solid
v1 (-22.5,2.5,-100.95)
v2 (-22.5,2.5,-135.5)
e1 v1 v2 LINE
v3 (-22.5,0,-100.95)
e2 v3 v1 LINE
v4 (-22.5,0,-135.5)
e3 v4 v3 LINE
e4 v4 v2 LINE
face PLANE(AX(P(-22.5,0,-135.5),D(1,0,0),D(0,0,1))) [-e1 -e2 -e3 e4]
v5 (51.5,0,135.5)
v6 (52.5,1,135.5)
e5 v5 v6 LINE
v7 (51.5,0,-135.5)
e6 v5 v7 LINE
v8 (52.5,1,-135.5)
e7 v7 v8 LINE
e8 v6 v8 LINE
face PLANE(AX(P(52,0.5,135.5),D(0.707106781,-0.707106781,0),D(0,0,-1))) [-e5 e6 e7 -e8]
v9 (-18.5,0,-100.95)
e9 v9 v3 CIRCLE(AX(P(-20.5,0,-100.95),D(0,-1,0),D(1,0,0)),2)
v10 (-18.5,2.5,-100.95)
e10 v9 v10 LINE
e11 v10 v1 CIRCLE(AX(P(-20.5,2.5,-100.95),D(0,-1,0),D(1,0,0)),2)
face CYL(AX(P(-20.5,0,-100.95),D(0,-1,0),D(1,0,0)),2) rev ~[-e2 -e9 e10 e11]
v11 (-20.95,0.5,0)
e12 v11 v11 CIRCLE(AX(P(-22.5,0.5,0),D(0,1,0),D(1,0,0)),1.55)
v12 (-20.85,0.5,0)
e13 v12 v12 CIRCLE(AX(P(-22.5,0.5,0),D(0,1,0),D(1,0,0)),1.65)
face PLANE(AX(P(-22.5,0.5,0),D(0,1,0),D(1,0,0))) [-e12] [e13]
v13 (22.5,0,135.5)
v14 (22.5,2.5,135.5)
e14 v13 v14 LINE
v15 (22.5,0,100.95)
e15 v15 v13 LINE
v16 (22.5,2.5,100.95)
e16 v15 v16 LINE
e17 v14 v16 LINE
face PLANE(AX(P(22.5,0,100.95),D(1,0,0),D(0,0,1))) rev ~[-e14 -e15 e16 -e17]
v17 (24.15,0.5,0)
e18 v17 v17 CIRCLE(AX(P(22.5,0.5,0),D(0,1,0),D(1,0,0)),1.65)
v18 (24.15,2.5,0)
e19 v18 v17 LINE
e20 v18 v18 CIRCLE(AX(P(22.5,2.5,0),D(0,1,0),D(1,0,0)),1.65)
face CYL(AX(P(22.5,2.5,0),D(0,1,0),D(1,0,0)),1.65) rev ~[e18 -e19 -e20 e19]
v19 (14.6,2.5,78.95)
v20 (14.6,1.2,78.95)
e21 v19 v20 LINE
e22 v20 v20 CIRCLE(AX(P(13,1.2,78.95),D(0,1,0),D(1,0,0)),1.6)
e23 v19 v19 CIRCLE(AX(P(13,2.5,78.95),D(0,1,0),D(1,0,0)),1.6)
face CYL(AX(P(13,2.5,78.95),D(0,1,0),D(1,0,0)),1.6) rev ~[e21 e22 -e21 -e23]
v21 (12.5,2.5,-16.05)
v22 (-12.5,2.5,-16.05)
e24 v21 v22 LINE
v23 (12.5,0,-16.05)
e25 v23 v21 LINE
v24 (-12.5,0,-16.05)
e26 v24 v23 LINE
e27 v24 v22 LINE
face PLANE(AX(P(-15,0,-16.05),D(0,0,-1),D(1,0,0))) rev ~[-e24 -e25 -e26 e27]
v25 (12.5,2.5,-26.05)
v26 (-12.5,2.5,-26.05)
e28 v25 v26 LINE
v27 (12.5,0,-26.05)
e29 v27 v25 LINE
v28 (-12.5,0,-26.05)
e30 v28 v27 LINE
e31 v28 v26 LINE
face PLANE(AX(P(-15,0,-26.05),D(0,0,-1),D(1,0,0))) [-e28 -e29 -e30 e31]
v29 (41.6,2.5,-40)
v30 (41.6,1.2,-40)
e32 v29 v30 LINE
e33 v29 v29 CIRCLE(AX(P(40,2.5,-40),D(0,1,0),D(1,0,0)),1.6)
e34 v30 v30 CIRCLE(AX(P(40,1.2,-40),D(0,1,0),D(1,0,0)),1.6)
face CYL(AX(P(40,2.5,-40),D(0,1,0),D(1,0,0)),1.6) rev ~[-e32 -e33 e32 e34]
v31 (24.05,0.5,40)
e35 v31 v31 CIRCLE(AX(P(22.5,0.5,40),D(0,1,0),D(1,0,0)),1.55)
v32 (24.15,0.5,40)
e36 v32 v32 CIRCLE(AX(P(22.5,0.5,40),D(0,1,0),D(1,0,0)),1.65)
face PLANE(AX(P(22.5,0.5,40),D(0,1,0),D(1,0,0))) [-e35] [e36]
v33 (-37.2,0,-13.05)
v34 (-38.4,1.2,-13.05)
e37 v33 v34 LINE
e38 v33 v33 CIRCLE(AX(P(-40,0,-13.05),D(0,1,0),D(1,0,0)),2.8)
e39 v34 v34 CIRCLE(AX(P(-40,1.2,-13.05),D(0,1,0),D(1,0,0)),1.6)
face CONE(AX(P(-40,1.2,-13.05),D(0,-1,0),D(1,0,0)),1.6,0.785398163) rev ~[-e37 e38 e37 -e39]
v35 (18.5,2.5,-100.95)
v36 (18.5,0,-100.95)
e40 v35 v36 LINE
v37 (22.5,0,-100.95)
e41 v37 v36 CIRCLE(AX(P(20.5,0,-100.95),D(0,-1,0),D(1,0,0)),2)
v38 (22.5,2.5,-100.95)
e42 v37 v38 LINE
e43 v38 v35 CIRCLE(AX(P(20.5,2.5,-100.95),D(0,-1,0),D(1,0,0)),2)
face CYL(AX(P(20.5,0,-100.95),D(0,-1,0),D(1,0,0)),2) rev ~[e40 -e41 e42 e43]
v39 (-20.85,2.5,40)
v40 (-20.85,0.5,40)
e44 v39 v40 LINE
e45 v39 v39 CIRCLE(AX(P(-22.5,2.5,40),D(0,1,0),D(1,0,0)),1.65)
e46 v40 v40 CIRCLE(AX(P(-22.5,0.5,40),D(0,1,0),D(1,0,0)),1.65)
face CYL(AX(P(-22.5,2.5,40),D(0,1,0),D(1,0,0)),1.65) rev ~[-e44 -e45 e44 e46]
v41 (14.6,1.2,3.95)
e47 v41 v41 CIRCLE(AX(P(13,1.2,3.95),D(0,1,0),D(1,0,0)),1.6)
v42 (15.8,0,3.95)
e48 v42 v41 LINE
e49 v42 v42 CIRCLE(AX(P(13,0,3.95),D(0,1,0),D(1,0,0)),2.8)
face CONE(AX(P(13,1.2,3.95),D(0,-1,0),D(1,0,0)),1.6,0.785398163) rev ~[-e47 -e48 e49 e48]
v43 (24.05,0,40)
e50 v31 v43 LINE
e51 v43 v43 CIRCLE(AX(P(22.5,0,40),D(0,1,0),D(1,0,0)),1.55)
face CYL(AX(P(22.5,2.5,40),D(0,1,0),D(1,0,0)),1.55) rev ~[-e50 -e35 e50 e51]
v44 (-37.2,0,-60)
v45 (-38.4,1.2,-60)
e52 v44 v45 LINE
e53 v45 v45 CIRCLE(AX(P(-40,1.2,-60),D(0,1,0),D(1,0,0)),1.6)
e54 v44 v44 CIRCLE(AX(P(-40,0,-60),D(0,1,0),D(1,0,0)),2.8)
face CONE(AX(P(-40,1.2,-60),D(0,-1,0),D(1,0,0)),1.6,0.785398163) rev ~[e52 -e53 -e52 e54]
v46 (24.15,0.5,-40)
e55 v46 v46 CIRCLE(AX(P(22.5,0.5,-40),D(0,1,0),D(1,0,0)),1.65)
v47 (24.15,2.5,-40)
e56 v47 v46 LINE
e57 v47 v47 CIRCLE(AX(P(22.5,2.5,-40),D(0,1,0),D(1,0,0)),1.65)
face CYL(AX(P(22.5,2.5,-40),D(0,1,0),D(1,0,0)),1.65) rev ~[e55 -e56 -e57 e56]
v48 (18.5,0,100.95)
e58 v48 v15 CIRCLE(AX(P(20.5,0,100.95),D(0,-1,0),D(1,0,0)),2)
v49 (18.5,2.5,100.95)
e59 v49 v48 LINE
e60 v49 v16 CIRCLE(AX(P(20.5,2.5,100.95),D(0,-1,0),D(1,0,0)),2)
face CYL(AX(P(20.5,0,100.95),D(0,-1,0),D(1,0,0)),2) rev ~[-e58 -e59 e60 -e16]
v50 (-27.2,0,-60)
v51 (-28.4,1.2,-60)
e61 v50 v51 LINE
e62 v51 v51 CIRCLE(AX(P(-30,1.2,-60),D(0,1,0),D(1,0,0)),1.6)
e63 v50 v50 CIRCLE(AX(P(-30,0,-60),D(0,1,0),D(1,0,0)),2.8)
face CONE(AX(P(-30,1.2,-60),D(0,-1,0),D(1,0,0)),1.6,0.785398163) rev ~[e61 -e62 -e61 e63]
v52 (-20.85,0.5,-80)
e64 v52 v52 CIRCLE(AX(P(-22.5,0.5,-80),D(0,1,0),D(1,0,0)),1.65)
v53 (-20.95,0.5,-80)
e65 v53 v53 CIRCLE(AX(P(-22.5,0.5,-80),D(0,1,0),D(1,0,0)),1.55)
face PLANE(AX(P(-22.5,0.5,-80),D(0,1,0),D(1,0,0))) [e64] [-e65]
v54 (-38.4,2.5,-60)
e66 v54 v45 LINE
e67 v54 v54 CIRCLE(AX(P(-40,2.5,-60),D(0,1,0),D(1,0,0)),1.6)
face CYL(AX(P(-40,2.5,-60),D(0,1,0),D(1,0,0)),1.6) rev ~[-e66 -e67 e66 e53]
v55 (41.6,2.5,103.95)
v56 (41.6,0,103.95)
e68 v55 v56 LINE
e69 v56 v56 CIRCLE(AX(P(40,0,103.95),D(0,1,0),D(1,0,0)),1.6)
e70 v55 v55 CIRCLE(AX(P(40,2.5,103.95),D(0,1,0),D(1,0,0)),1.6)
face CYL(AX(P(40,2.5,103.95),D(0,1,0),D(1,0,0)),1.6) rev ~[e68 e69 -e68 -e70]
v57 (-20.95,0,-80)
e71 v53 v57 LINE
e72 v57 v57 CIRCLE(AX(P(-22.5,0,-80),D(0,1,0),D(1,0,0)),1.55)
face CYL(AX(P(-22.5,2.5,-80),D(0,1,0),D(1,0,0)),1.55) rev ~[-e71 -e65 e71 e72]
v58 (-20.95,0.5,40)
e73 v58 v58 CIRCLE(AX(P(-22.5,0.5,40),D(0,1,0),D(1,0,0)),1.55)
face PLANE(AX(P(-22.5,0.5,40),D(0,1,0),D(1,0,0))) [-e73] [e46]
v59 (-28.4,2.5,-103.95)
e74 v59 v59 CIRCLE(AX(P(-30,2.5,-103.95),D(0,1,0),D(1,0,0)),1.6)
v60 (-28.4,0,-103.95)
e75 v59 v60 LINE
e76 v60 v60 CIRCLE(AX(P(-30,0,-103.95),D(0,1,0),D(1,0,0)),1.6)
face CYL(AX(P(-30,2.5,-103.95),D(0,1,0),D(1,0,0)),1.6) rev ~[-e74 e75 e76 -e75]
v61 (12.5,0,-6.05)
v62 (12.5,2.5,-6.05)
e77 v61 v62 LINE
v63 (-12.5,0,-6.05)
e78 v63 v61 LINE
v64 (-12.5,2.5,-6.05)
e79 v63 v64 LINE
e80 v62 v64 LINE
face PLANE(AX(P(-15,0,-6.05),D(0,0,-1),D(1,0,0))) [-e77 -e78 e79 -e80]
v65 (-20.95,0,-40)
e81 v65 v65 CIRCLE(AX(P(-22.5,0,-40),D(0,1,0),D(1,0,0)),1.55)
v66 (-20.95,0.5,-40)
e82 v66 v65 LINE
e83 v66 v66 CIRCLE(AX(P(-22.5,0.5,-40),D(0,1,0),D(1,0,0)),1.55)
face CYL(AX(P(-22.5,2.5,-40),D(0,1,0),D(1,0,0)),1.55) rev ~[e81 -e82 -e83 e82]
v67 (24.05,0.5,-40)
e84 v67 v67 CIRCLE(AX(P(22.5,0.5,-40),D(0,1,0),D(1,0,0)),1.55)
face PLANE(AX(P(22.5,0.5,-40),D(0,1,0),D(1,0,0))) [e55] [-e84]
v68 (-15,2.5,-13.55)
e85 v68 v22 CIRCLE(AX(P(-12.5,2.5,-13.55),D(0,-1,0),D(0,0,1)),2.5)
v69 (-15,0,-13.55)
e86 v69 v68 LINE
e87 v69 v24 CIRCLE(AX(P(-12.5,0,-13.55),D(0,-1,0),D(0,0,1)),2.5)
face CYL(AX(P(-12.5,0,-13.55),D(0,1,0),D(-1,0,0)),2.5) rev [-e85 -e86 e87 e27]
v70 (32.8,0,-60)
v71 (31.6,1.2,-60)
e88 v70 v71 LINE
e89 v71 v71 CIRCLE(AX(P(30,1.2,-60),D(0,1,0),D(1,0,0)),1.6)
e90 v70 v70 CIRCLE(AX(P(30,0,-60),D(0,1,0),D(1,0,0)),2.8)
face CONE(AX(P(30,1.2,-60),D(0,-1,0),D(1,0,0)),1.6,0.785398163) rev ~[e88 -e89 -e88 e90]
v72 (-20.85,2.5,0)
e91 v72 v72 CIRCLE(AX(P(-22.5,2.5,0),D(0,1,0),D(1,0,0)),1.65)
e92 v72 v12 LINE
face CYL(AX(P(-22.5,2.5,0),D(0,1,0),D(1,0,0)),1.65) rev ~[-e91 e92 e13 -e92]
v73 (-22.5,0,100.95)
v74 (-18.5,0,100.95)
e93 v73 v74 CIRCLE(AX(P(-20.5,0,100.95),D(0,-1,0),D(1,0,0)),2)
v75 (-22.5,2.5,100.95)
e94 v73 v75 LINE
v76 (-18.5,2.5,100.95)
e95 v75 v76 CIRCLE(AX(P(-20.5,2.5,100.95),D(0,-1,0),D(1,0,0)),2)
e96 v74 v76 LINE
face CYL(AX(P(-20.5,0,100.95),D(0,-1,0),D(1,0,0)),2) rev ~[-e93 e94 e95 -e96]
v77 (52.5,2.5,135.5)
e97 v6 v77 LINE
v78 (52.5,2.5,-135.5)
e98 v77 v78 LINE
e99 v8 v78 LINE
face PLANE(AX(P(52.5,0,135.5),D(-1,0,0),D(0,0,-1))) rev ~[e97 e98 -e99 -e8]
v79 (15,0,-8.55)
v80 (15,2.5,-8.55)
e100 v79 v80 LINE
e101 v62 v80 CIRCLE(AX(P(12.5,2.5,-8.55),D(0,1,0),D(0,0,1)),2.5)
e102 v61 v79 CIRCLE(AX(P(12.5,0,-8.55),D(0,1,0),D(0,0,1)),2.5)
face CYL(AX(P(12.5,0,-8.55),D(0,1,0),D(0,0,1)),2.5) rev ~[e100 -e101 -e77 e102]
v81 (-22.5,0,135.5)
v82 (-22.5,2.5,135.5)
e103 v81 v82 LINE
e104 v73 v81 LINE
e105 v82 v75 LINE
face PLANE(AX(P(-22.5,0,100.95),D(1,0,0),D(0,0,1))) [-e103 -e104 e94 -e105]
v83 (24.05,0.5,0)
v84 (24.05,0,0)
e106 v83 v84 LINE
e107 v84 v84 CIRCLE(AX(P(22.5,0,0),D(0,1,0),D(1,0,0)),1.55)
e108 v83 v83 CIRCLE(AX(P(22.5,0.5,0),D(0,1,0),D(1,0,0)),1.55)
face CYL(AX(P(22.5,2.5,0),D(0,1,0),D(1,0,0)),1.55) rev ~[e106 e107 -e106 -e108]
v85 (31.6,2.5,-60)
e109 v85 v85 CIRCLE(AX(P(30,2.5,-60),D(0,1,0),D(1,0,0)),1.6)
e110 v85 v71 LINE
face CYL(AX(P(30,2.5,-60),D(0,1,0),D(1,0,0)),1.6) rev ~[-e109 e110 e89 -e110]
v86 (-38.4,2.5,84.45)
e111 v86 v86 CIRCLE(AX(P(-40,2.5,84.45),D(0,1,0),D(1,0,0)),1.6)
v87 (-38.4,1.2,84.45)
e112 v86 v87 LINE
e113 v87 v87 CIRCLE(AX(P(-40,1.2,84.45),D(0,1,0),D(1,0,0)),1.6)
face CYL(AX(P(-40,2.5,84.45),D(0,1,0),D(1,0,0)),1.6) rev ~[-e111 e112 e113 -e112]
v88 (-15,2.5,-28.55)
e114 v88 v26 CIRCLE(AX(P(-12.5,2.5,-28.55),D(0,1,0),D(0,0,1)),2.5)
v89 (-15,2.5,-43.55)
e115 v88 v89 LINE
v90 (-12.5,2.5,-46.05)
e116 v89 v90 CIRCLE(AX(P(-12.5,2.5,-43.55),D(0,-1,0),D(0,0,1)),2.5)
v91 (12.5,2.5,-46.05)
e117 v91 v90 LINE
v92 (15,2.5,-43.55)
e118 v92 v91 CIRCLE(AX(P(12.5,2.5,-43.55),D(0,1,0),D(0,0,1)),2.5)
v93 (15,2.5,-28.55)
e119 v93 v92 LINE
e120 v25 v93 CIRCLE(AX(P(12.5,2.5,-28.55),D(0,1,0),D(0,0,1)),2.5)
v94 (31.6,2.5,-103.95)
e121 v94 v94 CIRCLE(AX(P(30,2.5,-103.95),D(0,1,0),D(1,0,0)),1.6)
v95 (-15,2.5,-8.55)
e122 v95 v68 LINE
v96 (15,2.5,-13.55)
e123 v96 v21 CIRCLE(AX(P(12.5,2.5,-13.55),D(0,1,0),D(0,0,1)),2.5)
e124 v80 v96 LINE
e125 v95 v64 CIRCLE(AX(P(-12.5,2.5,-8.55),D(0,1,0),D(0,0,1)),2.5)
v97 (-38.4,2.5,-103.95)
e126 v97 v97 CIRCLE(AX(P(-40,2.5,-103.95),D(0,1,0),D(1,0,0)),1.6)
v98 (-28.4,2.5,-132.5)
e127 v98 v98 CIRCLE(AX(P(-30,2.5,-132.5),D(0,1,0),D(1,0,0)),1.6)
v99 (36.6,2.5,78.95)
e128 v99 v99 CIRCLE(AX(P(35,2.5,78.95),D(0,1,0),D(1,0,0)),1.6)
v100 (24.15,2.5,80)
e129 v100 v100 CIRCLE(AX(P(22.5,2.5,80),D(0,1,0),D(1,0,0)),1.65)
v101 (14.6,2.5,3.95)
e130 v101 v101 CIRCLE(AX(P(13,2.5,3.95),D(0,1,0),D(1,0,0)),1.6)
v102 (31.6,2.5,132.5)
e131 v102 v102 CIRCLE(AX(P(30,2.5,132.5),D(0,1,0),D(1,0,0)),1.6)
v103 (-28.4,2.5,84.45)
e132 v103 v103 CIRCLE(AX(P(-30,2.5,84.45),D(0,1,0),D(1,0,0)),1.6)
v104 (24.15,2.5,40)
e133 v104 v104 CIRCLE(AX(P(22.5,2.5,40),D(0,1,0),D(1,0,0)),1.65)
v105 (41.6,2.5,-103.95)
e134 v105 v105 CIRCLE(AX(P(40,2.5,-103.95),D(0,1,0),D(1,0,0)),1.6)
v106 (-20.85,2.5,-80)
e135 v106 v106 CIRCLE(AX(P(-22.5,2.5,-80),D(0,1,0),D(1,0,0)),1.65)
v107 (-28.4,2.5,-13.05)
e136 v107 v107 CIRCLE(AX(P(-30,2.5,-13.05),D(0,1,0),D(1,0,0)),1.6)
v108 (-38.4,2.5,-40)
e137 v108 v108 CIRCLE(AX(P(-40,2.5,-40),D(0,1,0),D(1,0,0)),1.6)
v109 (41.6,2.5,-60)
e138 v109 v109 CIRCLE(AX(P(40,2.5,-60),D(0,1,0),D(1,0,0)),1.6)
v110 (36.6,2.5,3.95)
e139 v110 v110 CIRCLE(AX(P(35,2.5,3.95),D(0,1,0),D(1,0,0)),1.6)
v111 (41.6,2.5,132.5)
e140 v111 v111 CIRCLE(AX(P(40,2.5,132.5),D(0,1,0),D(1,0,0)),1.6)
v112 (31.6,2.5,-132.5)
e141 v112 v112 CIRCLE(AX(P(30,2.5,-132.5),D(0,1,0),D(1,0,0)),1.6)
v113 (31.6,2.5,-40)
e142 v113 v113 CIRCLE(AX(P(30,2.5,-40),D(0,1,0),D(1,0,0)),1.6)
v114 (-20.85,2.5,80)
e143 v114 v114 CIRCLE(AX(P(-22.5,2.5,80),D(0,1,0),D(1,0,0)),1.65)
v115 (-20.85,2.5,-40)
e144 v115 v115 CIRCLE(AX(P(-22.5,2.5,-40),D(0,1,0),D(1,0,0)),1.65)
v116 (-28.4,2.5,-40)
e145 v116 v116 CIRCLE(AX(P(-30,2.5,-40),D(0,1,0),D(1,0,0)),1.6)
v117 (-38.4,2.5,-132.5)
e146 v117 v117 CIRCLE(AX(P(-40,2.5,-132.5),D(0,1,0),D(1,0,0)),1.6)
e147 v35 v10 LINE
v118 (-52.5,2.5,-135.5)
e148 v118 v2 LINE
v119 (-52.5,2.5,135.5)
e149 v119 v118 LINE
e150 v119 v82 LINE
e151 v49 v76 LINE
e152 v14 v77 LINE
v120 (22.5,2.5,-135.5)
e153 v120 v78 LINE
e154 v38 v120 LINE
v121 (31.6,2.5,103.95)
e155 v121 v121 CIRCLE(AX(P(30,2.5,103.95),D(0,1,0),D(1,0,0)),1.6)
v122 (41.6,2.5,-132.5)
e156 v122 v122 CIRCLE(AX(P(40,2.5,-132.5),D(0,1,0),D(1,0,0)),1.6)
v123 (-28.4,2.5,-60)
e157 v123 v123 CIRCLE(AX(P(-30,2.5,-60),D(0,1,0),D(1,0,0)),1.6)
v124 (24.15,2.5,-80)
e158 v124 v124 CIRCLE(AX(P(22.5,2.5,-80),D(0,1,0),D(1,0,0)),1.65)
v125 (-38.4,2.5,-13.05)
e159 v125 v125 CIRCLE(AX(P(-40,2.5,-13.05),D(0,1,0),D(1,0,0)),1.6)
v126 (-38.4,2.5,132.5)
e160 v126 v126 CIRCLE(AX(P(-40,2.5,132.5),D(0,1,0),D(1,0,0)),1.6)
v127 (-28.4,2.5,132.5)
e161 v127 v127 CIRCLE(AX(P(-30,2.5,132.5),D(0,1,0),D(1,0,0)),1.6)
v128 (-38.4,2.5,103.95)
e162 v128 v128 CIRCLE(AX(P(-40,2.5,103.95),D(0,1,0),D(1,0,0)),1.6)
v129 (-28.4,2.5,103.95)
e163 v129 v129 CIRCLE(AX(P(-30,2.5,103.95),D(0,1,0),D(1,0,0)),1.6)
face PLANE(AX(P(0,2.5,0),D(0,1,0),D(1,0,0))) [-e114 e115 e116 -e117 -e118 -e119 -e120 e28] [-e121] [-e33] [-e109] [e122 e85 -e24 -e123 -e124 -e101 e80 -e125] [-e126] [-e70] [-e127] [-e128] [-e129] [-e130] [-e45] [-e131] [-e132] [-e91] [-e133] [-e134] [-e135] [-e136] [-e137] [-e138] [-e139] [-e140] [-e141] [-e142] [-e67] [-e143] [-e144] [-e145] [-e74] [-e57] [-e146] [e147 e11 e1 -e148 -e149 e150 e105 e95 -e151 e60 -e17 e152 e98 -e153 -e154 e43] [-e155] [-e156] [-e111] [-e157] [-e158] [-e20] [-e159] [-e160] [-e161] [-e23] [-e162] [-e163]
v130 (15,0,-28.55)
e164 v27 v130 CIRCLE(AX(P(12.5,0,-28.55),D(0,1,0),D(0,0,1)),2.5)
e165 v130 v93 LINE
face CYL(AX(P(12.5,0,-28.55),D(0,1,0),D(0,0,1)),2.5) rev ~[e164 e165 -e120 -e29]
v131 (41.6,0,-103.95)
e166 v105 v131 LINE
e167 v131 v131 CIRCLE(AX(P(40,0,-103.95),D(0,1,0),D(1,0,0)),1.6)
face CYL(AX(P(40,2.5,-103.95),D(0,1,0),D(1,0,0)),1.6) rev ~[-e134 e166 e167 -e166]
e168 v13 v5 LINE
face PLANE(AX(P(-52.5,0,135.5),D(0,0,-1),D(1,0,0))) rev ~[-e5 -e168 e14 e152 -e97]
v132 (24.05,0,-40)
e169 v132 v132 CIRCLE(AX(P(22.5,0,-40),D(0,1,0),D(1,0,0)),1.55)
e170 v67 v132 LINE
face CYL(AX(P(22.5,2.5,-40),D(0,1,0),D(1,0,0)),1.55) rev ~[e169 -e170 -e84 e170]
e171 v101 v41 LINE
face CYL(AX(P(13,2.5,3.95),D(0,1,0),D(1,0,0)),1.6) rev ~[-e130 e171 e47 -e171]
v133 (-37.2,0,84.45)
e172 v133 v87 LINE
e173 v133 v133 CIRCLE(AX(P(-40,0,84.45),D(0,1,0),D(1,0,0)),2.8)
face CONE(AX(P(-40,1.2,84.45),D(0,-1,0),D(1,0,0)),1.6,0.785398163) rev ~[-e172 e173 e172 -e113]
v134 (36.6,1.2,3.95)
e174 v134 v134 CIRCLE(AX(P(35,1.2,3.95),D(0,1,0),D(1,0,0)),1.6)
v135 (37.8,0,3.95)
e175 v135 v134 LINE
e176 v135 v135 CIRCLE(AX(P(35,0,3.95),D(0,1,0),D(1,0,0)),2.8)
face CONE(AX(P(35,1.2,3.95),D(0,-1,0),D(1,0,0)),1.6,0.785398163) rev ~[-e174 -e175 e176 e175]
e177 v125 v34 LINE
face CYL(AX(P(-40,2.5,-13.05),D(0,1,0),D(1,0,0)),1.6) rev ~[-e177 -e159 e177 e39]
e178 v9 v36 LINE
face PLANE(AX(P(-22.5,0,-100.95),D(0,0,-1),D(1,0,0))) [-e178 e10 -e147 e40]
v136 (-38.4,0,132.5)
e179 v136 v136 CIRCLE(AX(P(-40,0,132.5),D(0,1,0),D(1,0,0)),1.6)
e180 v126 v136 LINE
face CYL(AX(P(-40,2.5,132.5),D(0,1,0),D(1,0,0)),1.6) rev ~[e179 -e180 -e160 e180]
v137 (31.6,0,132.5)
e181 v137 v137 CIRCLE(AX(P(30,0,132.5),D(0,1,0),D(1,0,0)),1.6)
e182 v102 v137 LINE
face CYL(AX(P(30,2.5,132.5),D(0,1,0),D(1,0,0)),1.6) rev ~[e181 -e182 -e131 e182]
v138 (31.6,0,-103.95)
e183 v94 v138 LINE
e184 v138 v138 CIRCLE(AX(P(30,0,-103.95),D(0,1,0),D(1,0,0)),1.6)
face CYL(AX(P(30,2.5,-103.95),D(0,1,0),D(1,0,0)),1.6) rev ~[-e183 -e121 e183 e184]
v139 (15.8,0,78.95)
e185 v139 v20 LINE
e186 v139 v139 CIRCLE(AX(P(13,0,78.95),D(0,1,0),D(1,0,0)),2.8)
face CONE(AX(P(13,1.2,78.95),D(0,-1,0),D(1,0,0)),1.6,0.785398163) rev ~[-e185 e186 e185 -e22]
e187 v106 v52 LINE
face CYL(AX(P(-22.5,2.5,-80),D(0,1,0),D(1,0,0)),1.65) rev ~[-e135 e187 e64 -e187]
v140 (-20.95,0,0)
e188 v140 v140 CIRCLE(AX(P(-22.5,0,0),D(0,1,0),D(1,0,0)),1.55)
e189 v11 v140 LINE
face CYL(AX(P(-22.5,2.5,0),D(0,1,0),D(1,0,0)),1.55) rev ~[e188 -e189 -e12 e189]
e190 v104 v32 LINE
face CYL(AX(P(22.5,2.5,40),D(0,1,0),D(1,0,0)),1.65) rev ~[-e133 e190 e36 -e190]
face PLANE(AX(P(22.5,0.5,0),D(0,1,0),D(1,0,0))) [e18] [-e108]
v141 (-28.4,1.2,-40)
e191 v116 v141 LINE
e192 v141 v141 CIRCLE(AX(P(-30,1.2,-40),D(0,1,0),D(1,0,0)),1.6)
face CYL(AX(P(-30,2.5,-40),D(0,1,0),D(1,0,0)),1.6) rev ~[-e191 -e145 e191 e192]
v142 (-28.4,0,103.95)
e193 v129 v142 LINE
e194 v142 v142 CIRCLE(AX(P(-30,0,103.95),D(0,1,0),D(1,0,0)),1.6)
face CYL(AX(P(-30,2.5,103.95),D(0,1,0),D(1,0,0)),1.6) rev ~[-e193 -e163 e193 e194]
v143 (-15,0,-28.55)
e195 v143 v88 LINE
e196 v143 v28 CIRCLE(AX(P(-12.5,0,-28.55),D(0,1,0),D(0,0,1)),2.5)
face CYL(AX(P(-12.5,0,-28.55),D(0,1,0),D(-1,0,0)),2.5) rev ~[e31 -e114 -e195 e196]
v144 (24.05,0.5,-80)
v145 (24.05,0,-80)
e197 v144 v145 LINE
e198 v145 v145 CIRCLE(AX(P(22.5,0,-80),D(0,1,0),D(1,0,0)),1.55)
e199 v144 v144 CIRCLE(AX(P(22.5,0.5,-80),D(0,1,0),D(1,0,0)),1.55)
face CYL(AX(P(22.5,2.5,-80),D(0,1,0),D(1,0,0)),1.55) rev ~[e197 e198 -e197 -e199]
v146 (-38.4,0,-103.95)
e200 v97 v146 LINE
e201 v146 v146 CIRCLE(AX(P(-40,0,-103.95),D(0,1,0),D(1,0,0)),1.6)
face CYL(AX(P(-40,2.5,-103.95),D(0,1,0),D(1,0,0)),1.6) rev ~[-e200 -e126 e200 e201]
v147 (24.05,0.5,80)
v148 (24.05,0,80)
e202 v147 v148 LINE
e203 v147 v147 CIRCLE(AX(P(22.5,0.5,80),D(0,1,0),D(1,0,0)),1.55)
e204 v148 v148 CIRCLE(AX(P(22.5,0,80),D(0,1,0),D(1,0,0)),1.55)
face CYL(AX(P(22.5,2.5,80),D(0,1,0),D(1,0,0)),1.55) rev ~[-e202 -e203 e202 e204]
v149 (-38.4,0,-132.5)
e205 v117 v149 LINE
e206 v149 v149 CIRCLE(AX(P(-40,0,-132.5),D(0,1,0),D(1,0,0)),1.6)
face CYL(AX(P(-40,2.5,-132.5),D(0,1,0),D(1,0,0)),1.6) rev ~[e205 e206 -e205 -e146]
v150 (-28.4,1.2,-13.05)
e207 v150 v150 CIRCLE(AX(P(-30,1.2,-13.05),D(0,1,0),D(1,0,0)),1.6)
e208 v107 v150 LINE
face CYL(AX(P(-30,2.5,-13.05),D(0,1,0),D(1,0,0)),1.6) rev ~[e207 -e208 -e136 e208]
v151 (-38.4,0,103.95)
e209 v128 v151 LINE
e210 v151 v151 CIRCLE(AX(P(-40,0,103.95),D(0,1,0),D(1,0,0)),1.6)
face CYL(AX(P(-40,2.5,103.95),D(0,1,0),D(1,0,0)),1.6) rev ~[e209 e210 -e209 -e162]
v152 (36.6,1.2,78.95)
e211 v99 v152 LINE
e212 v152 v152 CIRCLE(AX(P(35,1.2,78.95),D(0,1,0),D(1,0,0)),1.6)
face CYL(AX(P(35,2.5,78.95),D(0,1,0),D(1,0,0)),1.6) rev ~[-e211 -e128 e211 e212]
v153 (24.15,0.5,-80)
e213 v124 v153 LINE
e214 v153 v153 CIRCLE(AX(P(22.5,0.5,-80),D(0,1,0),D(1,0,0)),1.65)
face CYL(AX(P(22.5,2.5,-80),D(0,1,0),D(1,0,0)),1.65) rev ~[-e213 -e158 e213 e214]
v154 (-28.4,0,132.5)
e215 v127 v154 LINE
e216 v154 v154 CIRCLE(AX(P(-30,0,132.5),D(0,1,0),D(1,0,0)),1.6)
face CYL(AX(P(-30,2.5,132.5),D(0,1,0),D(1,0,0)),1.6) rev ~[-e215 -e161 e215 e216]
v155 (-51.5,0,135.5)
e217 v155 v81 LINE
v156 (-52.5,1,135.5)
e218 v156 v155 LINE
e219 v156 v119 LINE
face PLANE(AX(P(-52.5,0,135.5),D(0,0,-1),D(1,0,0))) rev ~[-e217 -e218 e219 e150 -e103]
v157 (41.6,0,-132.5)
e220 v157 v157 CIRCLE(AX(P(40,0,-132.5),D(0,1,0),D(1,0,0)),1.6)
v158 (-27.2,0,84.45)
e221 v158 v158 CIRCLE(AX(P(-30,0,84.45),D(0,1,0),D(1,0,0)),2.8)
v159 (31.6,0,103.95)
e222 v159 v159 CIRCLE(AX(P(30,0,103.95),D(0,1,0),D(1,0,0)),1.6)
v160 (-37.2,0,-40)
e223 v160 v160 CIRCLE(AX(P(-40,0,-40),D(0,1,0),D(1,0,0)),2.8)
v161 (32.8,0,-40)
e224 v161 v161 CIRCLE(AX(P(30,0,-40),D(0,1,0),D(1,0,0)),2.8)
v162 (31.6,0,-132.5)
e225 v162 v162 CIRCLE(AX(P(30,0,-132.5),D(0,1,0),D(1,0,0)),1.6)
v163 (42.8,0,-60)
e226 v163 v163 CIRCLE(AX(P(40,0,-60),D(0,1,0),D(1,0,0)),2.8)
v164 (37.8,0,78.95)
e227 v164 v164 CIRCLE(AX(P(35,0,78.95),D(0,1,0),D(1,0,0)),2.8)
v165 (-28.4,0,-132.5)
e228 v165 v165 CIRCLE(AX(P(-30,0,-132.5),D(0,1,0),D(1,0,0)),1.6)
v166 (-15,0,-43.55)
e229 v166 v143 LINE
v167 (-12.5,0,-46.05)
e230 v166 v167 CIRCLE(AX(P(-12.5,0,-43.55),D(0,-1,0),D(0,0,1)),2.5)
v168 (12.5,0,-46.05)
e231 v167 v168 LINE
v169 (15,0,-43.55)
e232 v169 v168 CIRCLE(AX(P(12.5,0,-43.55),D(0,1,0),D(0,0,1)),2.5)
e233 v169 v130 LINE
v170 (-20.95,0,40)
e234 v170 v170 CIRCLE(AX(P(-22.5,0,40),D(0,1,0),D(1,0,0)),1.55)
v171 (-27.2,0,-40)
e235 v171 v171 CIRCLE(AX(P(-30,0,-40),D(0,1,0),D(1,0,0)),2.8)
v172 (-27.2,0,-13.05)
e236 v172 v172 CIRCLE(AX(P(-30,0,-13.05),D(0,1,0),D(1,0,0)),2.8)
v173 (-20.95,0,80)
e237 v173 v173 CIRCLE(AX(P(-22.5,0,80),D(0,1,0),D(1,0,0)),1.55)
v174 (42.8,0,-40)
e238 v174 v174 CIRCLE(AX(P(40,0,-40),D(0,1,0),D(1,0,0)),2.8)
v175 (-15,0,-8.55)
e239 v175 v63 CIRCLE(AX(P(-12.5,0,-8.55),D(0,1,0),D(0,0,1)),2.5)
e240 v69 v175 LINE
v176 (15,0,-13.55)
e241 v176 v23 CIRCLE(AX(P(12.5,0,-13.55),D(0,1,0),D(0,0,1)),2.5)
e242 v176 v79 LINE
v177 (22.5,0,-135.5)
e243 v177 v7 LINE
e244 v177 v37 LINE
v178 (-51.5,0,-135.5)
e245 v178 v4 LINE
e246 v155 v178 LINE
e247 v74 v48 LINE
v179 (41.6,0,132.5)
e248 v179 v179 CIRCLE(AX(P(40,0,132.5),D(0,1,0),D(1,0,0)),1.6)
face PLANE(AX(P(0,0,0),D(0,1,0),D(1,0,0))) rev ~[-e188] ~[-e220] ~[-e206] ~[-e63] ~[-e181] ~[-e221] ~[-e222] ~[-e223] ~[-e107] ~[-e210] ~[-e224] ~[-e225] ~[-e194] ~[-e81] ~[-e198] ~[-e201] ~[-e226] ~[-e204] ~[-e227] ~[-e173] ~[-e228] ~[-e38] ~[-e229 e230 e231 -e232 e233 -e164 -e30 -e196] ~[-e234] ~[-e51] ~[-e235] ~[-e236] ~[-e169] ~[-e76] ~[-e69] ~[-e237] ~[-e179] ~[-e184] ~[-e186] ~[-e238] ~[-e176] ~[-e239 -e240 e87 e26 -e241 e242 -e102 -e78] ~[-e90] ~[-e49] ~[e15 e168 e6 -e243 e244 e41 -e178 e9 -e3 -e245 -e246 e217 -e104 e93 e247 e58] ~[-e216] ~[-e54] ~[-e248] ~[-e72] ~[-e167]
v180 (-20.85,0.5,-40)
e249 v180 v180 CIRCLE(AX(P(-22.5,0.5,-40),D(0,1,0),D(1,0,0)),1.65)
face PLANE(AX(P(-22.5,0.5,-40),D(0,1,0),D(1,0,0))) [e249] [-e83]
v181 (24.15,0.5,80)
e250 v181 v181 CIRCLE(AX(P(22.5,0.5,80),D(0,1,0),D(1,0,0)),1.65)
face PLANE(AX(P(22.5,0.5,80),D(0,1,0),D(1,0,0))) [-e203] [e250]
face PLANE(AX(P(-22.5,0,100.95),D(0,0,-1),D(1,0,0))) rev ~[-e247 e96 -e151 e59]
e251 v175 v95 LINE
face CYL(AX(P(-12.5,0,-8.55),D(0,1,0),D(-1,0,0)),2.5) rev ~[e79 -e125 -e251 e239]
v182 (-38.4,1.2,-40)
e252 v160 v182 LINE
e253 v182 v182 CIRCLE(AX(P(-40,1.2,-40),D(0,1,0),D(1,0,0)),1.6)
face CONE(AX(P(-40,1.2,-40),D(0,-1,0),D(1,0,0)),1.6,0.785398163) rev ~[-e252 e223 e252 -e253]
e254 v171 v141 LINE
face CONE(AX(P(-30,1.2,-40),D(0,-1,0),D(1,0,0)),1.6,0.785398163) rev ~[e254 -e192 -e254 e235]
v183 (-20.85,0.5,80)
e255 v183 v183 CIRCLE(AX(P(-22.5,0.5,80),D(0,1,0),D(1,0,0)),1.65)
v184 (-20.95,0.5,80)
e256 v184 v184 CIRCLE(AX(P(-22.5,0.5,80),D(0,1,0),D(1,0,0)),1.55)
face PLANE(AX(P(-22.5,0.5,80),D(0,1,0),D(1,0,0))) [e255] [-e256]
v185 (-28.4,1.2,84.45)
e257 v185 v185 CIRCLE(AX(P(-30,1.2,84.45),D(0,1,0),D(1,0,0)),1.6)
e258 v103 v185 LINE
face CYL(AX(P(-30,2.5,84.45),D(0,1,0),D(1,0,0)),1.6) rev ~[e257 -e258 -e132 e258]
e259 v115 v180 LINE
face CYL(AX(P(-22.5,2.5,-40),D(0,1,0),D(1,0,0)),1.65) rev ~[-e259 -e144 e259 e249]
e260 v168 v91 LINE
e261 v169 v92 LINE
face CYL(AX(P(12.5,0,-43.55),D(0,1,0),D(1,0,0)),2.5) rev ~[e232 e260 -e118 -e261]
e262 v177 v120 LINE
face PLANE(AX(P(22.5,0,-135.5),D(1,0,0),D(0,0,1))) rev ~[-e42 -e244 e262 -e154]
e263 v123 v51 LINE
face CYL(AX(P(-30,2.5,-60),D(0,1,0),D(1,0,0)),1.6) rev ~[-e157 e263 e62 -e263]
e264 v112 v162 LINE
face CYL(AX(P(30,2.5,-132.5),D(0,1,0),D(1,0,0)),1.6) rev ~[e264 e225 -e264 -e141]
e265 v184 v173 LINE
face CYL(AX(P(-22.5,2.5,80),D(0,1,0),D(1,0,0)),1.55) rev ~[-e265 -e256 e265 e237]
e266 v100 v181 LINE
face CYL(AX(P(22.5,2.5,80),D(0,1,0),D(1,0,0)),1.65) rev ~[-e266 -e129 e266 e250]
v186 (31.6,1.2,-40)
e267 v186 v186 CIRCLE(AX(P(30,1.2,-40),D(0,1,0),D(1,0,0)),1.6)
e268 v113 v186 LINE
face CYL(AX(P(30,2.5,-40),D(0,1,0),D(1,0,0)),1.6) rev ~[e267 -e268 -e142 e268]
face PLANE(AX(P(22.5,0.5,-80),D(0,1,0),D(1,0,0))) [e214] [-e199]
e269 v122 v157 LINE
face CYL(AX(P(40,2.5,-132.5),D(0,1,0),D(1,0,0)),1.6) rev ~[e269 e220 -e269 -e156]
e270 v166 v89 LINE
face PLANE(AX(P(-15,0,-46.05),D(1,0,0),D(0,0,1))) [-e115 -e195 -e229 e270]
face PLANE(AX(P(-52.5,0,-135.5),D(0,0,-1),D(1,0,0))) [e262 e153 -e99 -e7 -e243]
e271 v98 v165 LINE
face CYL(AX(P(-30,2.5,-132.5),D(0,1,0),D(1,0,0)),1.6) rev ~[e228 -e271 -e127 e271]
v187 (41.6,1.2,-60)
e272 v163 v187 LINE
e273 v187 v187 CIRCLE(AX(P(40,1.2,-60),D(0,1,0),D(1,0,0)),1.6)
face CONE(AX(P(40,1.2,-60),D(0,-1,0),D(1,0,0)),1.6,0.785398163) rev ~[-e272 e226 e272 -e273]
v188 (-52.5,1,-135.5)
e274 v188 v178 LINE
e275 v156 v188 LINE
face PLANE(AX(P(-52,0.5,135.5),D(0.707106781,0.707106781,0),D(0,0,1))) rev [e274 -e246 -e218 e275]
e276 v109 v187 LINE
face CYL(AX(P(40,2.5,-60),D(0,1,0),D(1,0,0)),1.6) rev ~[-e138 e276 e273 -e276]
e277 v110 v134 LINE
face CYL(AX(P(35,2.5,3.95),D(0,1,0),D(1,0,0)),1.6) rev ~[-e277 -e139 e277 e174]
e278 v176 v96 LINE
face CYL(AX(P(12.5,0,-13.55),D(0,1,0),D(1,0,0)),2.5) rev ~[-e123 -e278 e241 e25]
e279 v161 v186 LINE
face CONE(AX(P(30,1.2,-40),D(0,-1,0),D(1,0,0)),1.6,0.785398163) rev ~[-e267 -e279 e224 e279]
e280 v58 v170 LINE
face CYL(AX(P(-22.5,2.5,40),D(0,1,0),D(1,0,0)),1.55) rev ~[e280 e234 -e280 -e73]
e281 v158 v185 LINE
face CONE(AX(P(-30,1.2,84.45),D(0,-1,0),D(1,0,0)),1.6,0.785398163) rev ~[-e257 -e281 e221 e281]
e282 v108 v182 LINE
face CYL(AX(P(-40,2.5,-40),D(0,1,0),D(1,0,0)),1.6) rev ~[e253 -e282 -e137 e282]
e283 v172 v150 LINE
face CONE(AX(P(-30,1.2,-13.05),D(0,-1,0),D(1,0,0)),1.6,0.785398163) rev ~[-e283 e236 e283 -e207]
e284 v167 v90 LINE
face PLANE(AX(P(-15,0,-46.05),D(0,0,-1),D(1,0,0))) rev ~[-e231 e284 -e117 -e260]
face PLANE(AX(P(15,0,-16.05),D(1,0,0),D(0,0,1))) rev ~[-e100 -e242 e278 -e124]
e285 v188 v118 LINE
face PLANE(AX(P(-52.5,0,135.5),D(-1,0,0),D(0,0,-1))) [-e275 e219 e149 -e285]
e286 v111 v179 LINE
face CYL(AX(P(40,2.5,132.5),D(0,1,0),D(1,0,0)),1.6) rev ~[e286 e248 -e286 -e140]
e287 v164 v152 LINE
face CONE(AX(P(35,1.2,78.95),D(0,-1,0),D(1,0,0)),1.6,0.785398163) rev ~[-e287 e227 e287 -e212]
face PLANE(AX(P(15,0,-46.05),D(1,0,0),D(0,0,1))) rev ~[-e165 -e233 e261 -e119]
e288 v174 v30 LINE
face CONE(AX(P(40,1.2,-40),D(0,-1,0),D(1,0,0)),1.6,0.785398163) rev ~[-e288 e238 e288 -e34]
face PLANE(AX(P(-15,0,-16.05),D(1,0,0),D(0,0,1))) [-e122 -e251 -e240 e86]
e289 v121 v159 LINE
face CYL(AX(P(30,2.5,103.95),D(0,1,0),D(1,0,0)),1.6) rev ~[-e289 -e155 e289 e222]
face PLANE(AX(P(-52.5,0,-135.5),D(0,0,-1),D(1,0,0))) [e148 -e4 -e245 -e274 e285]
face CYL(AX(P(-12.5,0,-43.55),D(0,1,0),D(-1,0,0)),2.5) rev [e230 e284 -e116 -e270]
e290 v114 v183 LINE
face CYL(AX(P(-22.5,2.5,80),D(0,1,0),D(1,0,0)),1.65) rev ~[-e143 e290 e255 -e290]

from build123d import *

# Parameters (mm, degrees)
SKETCH_1_W          = 105
SKETCH_1_H          = 271
EXTRUDE_1_DEPTH     = 2.5
SKETCH_2_R          = 1.6
CUT_EXTRUDE_1_DEPTH = 10
CHAMFER_4_SIZE      = 1
SKETCH_3_W          = 45
SKETCH_3_H          = 34.55
CUT_EXTRUDE_2_DEPTH = 10
SKETCH_4_R          = 2
CUT_EXTRUDE_3_DEPTH = 10
SKETCH_5_R          = 1.6
CUT_EXTRUDE_4_DEPTH = 10
SKETCH_6_R          = 1.6
CUT_EXTRUDE_5_DEPTH = 10
SKETCH_7_R          = 1.65
CUT_EXTRUDE_6_DEPTH = 2
CUT_EXTRUDE_7_REACH = 4.5
SKETCH_8_R          = 1.55
CHAMFER_6_SIZE      = 1.2
SKETCH_9_W          = 30
SKETCH_9_H          = 10
SKETCH_9_H_2        = 20
CUT_EXTRUDE_8_DEPTH = 12
FILLET_1_R          = 2.5


with BuildPart() as part:
    # 草图1 → 凸台-拉伸1 (new body)
    with BuildSketch(Plane(origin=(0, 0, 0), x_dir=(1, 0, 0), z_dir=(0, 1, 0))):
        Rectangle(SKETCH_1_W, SKETCH_1_H)
    extrude(amount=EXTRUDE_1_DEPTH)

    # 草图2 → 切除-拉伸1 (cut)
    with BuildSketch(Plane(origin=(0, 2.5, 0), x_dir=(1, 0, 0), z_dir=(0, 1, 0))):
        with Locations((13.000000181, -3.95)):
            Circle(SKETCH_2_R)
        with Locations((35, -3.95)):
            Circle(SKETCH_2_R)
        with Locations((35, -78.95)):
            Circle(SKETCH_2_R)
        with Locations((13.000000181, -78.95)):
            Circle(SKETCH_2_R)
    extrude(amount=-CUT_EXTRUDE_1_DEPTH, mode=Mode.SUBTRACT)

    # 倒角4
    chamfer_4_edges = [part.edges().sort_by_distance(p)[0] for p in [
        (-52.5, 0, 0),
        (52.5, 0, 0),
    ]]
    chamfer(chamfer_4_edges, length=CHAMFER_4_SIZE)

    # 草图3 → 切除-拉伸2 (cut)
    with BuildSketch(Plane.XZ):
        with Locations((0, 118.225)):
            Rectangle(SKETCH_3_W, SKETCH_3_H)
        with Locations((0, -118.225)):
            Rectangle(SKETCH_3_W, SKETCH_3_H)
    extrude(amount=-CUT_EXTRUDE_2_DEPTH, mode=Mode.SUBTRACT)

    # 草图4 → 切除-拉伸3 (cut)
    with BuildSketch(Plane.XZ):
        with Locations((20.5, -100.95)):
            Circle(SKETCH_4_R)
        with Locations((-20.5, -100.95)):
            Circle(SKETCH_4_R)
        with Locations((-20.5, 100.95)):
            Circle(SKETCH_4_R)
        with Locations((20.5, 100.95)):
            Circle(SKETCH_4_R)
    extrude(amount=-CUT_EXTRUDE_3_DEPTH, mode=Mode.SUBTRACT)

    # 草图5 → 切除-拉伸4 (cut)
    with BuildSketch(Plane(origin=(0, 2.5, 0), x_dir=(1, 0, 0), z_dir=(0, 1, 0))):
        with Locations((-40, 103.95)):
            Circle(SKETCH_5_R)
        with Locations((-30, 103.95)):
            Circle(SKETCH_5_R)
        with Locations((-40, 132.5)):
            Circle(SKETCH_5_R)
        with Locations((-30, 132.5)):
            Circle(SKETCH_5_R)
        with Locations((30, 132.5)):
            Circle(SKETCH_5_R)
        with Locations((40, 132.5)):
            Circle(SKETCH_5_R)
        with Locations((30, 103.95)):
            Circle(SKETCH_5_R)
        with Locations((40, 103.95)):
            Circle(SKETCH_5_R)
        with Locations((40, -103.95)):
            Circle(SKETCH_5_R)
        with Locations((30, -103.95)):
            Circle(SKETCH_5_R)
        with Locations((40, -132.5)):
            Circle(SKETCH_5_R)
        with Locations((30, -132.5)):
            Circle(SKETCH_5_R)
        with Locations((-30, -132.5)):
            Circle(SKETCH_5_R)
        with Locations((-40, -132.5)):
            Circle(SKETCH_5_R)
        with Locations((-30, -103.95)):
            Circle(SKETCH_5_R)
        with Locations((-40, -103.95)):
            Circle(SKETCH_5_R)
    extrude(amount=-CUT_EXTRUDE_4_DEPTH, mode=Mode.SUBTRACT)

    # 草图6 → 切除-拉伸5 (cut)
    with BuildSketch(Plane(origin=(0, 2.5, 0), x_dir=(1, 0, 0), z_dir=(0, 1, 0))):
        with Locations((40, 60)):
            Circle(SKETCH_6_R)
        with Locations((30, 60)):
            Circle(SKETCH_6_R)
        with Locations((40, 40)):
            Circle(SKETCH_6_R)
        with Locations((30, 40)):
            Circle(SKETCH_6_R)
        with Locations((-30, 40)):
            Circle(SKETCH_6_R)
        with Locations((-40, 40)):
            Circle(SKETCH_6_R)
        with Locations((-30, 60)):
            Circle(SKETCH_6_R)
        with Locations((-40, 60)):
            Circle(SKETCH_6_R)
        with Locations((-30, -84.45)):
            Circle(SKETCH_6_R)
        with Locations((-40, -84.45)):
            Circle(SKETCH_6_R)
        with Locations((-30, 13.05)):
            Circle(SKETCH_6_R)
        with Locations((-40, 13.05)):
            Circle(SKETCH_6_R)
    extrude(amount=-CUT_EXTRUDE_5_DEPTH, mode=Mode.SUBTRACT)

    # 草图7 → 切除-拉伸6 (cut)
    with BuildSketch(Plane(origin=(0, 2.5, 0), x_dir=(1, 0, 0), z_dir=(0, 1, 0))):
        with Locations((-22.5, 0)):
            Circle(SKETCH_7_R)
        with Locations((-22.5, -40)):
            Circle(SKETCH_7_R)
        with Locations((-22.5, -80)):
            Circle(SKETCH_7_R)
        with Locations((22.5, -80)):
            Circle(SKETCH_7_R)
        with Locations((22.5, -40)):
            Circle(SKETCH_7_R)
        with Locations((22.5, 0)):
            Circle(SKETCH_7_R)
        with Locations((22.5, 40)):
            Circle(SKETCH_7_R)
        with Locations((22.5, 80)):
            Circle(SKETCH_7_R)
        with Locations((-22.5, 80)):
            Circle(SKETCH_7_R)
        with Locations((-22.5, 40)):
            Circle(SKETCH_7_R)
    extrude(amount=-CUT_EXTRUDE_6_DEPTH, mode=Mode.SUBTRACT)

    # 草图8 → 切除-拉伸7 (cut, up to next)
    with BuildSketch(Plane(origin=(0, 2.5, 0), x_dir=(1, 0, 0), z_dir=(0, 1, 0)), mode=Mode.PRIVATE) as cut_extrude_7_sk1:
        with Locations((-22.5, 80)):
            Circle(SKETCH_8_R)
    cut_extrude_7_tool1 = extrude(cut_extrude_7_sk1.sketch, amount=-CUT_EXTRUDE_7_REACH, mode=Mode.PRIVATE) & part.part
    add(cut_extrude_7_tool1.solids().sort_by_distance((-22.5, 2.5, -80))[0], mode=Mode.SUBTRACT)
    # 草图8 → 切除-拉伸7 (cut, up to next)
    with BuildSketch(Plane(origin=(0, 2.5, 0), x_dir=(1, 0, 0), z_dir=(0, 1, 0)), mode=Mode.PRIVATE) as cut_extrude_7_sk2:
        with Locations((-22.5, 40)):
            Circle(SKETCH_8_R)
    cut_extrude_7_tool2 = extrude(cut_extrude_7_sk2.sketch, amount=-CUT_EXTRUDE_7_REACH, mode=Mode.PRIVATE) & part.part
    add(cut_extrude_7_tool2.solids().sort_by_distance((-22.5, 2.5, -40))[0], mode=Mode.SUBTRACT)
    # 草图8 → 切除-拉伸7 (cut, up to next)
    with BuildSketch(Plane(origin=(0, 2.5, 0), x_dir=(1, 0, 0), z_dir=(0, 1, 0)), mode=Mode.PRIVATE) as cut_extrude_7_sk3:
        with Locations((-22.5, 0)):
            Circle(SKETCH_8_R)
    cut_extrude_7_tool3 = extrude(cut_extrude_7_sk3.sketch, amount=-CUT_EXTRUDE_7_REACH, mode=Mode.PRIVATE) & part.part
    add(cut_extrude_7_tool3.solids().sort_by_distance((-22.5, 2.5, 0))[0], mode=Mode.SUBTRACT)
    # 草图8 → 切除-拉伸7 (cut, up to next)
    with BuildSketch(Plane(origin=(0, 2.5, 0), x_dir=(1, 0, 0), z_dir=(0, 1, 0)), mode=Mode.PRIVATE) as cut_extrude_7_sk4:
        with Locations((-22.5, -40)):
            Circle(SKETCH_8_R)
    cut_extrude_7_tool4 = extrude(cut_extrude_7_sk4.sketch, amount=-CUT_EXTRUDE_7_REACH, mode=Mode.PRIVATE) & part.part
    add(cut_extrude_7_tool4.solids().sort_by_distance((-22.5, 2.5, 40))[0], mode=Mode.SUBTRACT)
    # 草图8 → 切除-拉伸7 (cut, up to next)
    with BuildSketch(Plane(origin=(0, 2.5, 0), x_dir=(1, 0, 0), z_dir=(0, 1, 0)), mode=Mode.PRIVATE) as cut_extrude_7_sk5:
        with Locations((-22.5, -80)):
            Circle(SKETCH_8_R)
    cut_extrude_7_tool5 = extrude(cut_extrude_7_sk5.sketch, amount=-CUT_EXTRUDE_7_REACH, mode=Mode.PRIVATE) & part.part
    add(cut_extrude_7_tool5.solids().sort_by_distance((-22.5, 2.5, 80))[0], mode=Mode.SUBTRACT)
    # 草图8 → 切除-拉伸7 (cut, up to next)
    with BuildSketch(Plane(origin=(0, 2.5, 0), x_dir=(1, 0, 0), z_dir=(0, 1, 0)), mode=Mode.PRIVATE) as cut_extrude_7_sk6:
        with Locations((22.5, -80)):
            Circle(SKETCH_8_R)
    cut_extrude_7_tool6 = extrude(cut_extrude_7_sk6.sketch, amount=-CUT_EXTRUDE_7_REACH, mode=Mode.PRIVATE) & part.part
    add(cut_extrude_7_tool6.solids().sort_by_distance((22.5, 2.5, 80))[0], mode=Mode.SUBTRACT)
    # 草图8 → 切除-拉伸7 (cut, up to next)
    with BuildSketch(Plane(origin=(0, 2.5, 0), x_dir=(1, 0, 0), z_dir=(0, 1, 0)), mode=Mode.PRIVATE) as cut_extrude_7_sk7:
        with Locations((22.5, -40)):
            Circle(SKETCH_8_R)
    cut_extrude_7_tool7 = extrude(cut_extrude_7_sk7.sketch, amount=-CUT_EXTRUDE_7_REACH, mode=Mode.PRIVATE) & part.part
    add(cut_extrude_7_tool7.solids().sort_by_distance((22.5, 2.5, 40))[0], mode=Mode.SUBTRACT)
    # 草图8 → 切除-拉伸7 (cut, up to next)
    with BuildSketch(Plane(origin=(0, 2.5, 0), x_dir=(1, 0, 0), z_dir=(0, 1, 0)), mode=Mode.PRIVATE) as cut_extrude_7_sk8:
        with Locations((22.5, 0)):
            Circle(SKETCH_8_R)
    cut_extrude_7_tool8 = extrude(cut_extrude_7_sk8.sketch, amount=-CUT_EXTRUDE_7_REACH, mode=Mode.PRIVATE) & part.part
    add(cut_extrude_7_tool8.solids().sort_by_distance((22.5, 2.5, 0))[0], mode=Mode.SUBTRACT)
    # 草图8 → 切除-拉伸7 (cut, up to next)
    with BuildSketch(Plane(origin=(0, 2.5, 0), x_dir=(1, 0, 0), z_dir=(0, 1, 0)), mode=Mode.PRIVATE) as cut_extrude_7_sk9:
        with Locations((22.5, 40)):
            Circle(SKETCH_8_R)
    cut_extrude_7_tool9 = extrude(cut_extrude_7_sk9.sketch, amount=-CUT_EXTRUDE_7_REACH, mode=Mode.PRIVATE) & part.part
    add(cut_extrude_7_tool9.solids().sort_by_distance((22.5, 2.5, -40))[0], mode=Mode.SUBTRACT)
    # 草图8 → 切除-拉伸7 (cut, up to next)
    with BuildSketch(Plane(origin=(0, 2.5, 0), x_dir=(1, 0, 0), z_dir=(0, 1, 0)), mode=Mode.PRIVATE) as cut_extrude_7_sk10:
        with Locations((22.5, 80)):
            Circle(SKETCH_8_R)
    cut_extrude_7_tool10 = extrude(cut_extrude_7_sk10.sketch, amount=-CUT_EXTRUDE_7_REACH, mode=Mode.PRIVATE) & part.part
    add(cut_extrude_7_tool10.solids().sort_by_distance((22.5, 2.5, -80))[0], mode=Mode.SUBTRACT)

    # 倒角6
    chamfer_6_edges = [part.edges().sort_by_distance(p)[0] for p in [
        (11.400000181, 0, 3.95),
        (-41.6, 0, -40),
        (33.4, 0, 78.95),
        (-31.6, 0, -60),
        (-41.6, 0, -60),
        (-31.6, 0, 84.45),
        (28.4, 0, -60),
        (38.4, 0, -40),
        (28.4, 0, -40),
        (-31.6, 0, -40),
        (-41.6, 0, -13.05),
        (-31.6, 0, -13.05),
        (-41.6, 0, 84.45),
        (11.400000181, 0, 78.95),
        (38.4, 0, -60),
        (33.4, 0, 3.95),
    ]]
    chamfer(chamfer_6_edges, length=CHAMFER_6_SIZE)

    # 草图9 → 切除-拉伸8 (cut)
    with BuildSketch(Plane.XZ):
        with Locations((0, -11.05)):
            Rectangle(SKETCH_9_W, SKETCH_9_H)
        with Locations((0, -36.05)):
            Rectangle(SKETCH_9_W, SKETCH_9_H_2)
    extrude(amount=-CUT_EXTRUDE_8_DEPTH, mode=Mode.SUBTRACT)

    # 圆角1
    fillet_1_edges = [part.edges().sort_by_distance(p)[0] for p in [
        (15, 1.25, -6.05),
        (15, 1.25, -16.05),
        (-15, 1.25, -16.05),
        (-15, 1.25, -6.05),
        (15, 1.25, -46.05),
        (-15, 1.25, -46.05),
        (-15, 1.25, -26.05),
        (15, 1.25, -26.05),
    ]]
    fillet(fillet_1_edges, radius=FILLET_1_R)


solid = part.part
